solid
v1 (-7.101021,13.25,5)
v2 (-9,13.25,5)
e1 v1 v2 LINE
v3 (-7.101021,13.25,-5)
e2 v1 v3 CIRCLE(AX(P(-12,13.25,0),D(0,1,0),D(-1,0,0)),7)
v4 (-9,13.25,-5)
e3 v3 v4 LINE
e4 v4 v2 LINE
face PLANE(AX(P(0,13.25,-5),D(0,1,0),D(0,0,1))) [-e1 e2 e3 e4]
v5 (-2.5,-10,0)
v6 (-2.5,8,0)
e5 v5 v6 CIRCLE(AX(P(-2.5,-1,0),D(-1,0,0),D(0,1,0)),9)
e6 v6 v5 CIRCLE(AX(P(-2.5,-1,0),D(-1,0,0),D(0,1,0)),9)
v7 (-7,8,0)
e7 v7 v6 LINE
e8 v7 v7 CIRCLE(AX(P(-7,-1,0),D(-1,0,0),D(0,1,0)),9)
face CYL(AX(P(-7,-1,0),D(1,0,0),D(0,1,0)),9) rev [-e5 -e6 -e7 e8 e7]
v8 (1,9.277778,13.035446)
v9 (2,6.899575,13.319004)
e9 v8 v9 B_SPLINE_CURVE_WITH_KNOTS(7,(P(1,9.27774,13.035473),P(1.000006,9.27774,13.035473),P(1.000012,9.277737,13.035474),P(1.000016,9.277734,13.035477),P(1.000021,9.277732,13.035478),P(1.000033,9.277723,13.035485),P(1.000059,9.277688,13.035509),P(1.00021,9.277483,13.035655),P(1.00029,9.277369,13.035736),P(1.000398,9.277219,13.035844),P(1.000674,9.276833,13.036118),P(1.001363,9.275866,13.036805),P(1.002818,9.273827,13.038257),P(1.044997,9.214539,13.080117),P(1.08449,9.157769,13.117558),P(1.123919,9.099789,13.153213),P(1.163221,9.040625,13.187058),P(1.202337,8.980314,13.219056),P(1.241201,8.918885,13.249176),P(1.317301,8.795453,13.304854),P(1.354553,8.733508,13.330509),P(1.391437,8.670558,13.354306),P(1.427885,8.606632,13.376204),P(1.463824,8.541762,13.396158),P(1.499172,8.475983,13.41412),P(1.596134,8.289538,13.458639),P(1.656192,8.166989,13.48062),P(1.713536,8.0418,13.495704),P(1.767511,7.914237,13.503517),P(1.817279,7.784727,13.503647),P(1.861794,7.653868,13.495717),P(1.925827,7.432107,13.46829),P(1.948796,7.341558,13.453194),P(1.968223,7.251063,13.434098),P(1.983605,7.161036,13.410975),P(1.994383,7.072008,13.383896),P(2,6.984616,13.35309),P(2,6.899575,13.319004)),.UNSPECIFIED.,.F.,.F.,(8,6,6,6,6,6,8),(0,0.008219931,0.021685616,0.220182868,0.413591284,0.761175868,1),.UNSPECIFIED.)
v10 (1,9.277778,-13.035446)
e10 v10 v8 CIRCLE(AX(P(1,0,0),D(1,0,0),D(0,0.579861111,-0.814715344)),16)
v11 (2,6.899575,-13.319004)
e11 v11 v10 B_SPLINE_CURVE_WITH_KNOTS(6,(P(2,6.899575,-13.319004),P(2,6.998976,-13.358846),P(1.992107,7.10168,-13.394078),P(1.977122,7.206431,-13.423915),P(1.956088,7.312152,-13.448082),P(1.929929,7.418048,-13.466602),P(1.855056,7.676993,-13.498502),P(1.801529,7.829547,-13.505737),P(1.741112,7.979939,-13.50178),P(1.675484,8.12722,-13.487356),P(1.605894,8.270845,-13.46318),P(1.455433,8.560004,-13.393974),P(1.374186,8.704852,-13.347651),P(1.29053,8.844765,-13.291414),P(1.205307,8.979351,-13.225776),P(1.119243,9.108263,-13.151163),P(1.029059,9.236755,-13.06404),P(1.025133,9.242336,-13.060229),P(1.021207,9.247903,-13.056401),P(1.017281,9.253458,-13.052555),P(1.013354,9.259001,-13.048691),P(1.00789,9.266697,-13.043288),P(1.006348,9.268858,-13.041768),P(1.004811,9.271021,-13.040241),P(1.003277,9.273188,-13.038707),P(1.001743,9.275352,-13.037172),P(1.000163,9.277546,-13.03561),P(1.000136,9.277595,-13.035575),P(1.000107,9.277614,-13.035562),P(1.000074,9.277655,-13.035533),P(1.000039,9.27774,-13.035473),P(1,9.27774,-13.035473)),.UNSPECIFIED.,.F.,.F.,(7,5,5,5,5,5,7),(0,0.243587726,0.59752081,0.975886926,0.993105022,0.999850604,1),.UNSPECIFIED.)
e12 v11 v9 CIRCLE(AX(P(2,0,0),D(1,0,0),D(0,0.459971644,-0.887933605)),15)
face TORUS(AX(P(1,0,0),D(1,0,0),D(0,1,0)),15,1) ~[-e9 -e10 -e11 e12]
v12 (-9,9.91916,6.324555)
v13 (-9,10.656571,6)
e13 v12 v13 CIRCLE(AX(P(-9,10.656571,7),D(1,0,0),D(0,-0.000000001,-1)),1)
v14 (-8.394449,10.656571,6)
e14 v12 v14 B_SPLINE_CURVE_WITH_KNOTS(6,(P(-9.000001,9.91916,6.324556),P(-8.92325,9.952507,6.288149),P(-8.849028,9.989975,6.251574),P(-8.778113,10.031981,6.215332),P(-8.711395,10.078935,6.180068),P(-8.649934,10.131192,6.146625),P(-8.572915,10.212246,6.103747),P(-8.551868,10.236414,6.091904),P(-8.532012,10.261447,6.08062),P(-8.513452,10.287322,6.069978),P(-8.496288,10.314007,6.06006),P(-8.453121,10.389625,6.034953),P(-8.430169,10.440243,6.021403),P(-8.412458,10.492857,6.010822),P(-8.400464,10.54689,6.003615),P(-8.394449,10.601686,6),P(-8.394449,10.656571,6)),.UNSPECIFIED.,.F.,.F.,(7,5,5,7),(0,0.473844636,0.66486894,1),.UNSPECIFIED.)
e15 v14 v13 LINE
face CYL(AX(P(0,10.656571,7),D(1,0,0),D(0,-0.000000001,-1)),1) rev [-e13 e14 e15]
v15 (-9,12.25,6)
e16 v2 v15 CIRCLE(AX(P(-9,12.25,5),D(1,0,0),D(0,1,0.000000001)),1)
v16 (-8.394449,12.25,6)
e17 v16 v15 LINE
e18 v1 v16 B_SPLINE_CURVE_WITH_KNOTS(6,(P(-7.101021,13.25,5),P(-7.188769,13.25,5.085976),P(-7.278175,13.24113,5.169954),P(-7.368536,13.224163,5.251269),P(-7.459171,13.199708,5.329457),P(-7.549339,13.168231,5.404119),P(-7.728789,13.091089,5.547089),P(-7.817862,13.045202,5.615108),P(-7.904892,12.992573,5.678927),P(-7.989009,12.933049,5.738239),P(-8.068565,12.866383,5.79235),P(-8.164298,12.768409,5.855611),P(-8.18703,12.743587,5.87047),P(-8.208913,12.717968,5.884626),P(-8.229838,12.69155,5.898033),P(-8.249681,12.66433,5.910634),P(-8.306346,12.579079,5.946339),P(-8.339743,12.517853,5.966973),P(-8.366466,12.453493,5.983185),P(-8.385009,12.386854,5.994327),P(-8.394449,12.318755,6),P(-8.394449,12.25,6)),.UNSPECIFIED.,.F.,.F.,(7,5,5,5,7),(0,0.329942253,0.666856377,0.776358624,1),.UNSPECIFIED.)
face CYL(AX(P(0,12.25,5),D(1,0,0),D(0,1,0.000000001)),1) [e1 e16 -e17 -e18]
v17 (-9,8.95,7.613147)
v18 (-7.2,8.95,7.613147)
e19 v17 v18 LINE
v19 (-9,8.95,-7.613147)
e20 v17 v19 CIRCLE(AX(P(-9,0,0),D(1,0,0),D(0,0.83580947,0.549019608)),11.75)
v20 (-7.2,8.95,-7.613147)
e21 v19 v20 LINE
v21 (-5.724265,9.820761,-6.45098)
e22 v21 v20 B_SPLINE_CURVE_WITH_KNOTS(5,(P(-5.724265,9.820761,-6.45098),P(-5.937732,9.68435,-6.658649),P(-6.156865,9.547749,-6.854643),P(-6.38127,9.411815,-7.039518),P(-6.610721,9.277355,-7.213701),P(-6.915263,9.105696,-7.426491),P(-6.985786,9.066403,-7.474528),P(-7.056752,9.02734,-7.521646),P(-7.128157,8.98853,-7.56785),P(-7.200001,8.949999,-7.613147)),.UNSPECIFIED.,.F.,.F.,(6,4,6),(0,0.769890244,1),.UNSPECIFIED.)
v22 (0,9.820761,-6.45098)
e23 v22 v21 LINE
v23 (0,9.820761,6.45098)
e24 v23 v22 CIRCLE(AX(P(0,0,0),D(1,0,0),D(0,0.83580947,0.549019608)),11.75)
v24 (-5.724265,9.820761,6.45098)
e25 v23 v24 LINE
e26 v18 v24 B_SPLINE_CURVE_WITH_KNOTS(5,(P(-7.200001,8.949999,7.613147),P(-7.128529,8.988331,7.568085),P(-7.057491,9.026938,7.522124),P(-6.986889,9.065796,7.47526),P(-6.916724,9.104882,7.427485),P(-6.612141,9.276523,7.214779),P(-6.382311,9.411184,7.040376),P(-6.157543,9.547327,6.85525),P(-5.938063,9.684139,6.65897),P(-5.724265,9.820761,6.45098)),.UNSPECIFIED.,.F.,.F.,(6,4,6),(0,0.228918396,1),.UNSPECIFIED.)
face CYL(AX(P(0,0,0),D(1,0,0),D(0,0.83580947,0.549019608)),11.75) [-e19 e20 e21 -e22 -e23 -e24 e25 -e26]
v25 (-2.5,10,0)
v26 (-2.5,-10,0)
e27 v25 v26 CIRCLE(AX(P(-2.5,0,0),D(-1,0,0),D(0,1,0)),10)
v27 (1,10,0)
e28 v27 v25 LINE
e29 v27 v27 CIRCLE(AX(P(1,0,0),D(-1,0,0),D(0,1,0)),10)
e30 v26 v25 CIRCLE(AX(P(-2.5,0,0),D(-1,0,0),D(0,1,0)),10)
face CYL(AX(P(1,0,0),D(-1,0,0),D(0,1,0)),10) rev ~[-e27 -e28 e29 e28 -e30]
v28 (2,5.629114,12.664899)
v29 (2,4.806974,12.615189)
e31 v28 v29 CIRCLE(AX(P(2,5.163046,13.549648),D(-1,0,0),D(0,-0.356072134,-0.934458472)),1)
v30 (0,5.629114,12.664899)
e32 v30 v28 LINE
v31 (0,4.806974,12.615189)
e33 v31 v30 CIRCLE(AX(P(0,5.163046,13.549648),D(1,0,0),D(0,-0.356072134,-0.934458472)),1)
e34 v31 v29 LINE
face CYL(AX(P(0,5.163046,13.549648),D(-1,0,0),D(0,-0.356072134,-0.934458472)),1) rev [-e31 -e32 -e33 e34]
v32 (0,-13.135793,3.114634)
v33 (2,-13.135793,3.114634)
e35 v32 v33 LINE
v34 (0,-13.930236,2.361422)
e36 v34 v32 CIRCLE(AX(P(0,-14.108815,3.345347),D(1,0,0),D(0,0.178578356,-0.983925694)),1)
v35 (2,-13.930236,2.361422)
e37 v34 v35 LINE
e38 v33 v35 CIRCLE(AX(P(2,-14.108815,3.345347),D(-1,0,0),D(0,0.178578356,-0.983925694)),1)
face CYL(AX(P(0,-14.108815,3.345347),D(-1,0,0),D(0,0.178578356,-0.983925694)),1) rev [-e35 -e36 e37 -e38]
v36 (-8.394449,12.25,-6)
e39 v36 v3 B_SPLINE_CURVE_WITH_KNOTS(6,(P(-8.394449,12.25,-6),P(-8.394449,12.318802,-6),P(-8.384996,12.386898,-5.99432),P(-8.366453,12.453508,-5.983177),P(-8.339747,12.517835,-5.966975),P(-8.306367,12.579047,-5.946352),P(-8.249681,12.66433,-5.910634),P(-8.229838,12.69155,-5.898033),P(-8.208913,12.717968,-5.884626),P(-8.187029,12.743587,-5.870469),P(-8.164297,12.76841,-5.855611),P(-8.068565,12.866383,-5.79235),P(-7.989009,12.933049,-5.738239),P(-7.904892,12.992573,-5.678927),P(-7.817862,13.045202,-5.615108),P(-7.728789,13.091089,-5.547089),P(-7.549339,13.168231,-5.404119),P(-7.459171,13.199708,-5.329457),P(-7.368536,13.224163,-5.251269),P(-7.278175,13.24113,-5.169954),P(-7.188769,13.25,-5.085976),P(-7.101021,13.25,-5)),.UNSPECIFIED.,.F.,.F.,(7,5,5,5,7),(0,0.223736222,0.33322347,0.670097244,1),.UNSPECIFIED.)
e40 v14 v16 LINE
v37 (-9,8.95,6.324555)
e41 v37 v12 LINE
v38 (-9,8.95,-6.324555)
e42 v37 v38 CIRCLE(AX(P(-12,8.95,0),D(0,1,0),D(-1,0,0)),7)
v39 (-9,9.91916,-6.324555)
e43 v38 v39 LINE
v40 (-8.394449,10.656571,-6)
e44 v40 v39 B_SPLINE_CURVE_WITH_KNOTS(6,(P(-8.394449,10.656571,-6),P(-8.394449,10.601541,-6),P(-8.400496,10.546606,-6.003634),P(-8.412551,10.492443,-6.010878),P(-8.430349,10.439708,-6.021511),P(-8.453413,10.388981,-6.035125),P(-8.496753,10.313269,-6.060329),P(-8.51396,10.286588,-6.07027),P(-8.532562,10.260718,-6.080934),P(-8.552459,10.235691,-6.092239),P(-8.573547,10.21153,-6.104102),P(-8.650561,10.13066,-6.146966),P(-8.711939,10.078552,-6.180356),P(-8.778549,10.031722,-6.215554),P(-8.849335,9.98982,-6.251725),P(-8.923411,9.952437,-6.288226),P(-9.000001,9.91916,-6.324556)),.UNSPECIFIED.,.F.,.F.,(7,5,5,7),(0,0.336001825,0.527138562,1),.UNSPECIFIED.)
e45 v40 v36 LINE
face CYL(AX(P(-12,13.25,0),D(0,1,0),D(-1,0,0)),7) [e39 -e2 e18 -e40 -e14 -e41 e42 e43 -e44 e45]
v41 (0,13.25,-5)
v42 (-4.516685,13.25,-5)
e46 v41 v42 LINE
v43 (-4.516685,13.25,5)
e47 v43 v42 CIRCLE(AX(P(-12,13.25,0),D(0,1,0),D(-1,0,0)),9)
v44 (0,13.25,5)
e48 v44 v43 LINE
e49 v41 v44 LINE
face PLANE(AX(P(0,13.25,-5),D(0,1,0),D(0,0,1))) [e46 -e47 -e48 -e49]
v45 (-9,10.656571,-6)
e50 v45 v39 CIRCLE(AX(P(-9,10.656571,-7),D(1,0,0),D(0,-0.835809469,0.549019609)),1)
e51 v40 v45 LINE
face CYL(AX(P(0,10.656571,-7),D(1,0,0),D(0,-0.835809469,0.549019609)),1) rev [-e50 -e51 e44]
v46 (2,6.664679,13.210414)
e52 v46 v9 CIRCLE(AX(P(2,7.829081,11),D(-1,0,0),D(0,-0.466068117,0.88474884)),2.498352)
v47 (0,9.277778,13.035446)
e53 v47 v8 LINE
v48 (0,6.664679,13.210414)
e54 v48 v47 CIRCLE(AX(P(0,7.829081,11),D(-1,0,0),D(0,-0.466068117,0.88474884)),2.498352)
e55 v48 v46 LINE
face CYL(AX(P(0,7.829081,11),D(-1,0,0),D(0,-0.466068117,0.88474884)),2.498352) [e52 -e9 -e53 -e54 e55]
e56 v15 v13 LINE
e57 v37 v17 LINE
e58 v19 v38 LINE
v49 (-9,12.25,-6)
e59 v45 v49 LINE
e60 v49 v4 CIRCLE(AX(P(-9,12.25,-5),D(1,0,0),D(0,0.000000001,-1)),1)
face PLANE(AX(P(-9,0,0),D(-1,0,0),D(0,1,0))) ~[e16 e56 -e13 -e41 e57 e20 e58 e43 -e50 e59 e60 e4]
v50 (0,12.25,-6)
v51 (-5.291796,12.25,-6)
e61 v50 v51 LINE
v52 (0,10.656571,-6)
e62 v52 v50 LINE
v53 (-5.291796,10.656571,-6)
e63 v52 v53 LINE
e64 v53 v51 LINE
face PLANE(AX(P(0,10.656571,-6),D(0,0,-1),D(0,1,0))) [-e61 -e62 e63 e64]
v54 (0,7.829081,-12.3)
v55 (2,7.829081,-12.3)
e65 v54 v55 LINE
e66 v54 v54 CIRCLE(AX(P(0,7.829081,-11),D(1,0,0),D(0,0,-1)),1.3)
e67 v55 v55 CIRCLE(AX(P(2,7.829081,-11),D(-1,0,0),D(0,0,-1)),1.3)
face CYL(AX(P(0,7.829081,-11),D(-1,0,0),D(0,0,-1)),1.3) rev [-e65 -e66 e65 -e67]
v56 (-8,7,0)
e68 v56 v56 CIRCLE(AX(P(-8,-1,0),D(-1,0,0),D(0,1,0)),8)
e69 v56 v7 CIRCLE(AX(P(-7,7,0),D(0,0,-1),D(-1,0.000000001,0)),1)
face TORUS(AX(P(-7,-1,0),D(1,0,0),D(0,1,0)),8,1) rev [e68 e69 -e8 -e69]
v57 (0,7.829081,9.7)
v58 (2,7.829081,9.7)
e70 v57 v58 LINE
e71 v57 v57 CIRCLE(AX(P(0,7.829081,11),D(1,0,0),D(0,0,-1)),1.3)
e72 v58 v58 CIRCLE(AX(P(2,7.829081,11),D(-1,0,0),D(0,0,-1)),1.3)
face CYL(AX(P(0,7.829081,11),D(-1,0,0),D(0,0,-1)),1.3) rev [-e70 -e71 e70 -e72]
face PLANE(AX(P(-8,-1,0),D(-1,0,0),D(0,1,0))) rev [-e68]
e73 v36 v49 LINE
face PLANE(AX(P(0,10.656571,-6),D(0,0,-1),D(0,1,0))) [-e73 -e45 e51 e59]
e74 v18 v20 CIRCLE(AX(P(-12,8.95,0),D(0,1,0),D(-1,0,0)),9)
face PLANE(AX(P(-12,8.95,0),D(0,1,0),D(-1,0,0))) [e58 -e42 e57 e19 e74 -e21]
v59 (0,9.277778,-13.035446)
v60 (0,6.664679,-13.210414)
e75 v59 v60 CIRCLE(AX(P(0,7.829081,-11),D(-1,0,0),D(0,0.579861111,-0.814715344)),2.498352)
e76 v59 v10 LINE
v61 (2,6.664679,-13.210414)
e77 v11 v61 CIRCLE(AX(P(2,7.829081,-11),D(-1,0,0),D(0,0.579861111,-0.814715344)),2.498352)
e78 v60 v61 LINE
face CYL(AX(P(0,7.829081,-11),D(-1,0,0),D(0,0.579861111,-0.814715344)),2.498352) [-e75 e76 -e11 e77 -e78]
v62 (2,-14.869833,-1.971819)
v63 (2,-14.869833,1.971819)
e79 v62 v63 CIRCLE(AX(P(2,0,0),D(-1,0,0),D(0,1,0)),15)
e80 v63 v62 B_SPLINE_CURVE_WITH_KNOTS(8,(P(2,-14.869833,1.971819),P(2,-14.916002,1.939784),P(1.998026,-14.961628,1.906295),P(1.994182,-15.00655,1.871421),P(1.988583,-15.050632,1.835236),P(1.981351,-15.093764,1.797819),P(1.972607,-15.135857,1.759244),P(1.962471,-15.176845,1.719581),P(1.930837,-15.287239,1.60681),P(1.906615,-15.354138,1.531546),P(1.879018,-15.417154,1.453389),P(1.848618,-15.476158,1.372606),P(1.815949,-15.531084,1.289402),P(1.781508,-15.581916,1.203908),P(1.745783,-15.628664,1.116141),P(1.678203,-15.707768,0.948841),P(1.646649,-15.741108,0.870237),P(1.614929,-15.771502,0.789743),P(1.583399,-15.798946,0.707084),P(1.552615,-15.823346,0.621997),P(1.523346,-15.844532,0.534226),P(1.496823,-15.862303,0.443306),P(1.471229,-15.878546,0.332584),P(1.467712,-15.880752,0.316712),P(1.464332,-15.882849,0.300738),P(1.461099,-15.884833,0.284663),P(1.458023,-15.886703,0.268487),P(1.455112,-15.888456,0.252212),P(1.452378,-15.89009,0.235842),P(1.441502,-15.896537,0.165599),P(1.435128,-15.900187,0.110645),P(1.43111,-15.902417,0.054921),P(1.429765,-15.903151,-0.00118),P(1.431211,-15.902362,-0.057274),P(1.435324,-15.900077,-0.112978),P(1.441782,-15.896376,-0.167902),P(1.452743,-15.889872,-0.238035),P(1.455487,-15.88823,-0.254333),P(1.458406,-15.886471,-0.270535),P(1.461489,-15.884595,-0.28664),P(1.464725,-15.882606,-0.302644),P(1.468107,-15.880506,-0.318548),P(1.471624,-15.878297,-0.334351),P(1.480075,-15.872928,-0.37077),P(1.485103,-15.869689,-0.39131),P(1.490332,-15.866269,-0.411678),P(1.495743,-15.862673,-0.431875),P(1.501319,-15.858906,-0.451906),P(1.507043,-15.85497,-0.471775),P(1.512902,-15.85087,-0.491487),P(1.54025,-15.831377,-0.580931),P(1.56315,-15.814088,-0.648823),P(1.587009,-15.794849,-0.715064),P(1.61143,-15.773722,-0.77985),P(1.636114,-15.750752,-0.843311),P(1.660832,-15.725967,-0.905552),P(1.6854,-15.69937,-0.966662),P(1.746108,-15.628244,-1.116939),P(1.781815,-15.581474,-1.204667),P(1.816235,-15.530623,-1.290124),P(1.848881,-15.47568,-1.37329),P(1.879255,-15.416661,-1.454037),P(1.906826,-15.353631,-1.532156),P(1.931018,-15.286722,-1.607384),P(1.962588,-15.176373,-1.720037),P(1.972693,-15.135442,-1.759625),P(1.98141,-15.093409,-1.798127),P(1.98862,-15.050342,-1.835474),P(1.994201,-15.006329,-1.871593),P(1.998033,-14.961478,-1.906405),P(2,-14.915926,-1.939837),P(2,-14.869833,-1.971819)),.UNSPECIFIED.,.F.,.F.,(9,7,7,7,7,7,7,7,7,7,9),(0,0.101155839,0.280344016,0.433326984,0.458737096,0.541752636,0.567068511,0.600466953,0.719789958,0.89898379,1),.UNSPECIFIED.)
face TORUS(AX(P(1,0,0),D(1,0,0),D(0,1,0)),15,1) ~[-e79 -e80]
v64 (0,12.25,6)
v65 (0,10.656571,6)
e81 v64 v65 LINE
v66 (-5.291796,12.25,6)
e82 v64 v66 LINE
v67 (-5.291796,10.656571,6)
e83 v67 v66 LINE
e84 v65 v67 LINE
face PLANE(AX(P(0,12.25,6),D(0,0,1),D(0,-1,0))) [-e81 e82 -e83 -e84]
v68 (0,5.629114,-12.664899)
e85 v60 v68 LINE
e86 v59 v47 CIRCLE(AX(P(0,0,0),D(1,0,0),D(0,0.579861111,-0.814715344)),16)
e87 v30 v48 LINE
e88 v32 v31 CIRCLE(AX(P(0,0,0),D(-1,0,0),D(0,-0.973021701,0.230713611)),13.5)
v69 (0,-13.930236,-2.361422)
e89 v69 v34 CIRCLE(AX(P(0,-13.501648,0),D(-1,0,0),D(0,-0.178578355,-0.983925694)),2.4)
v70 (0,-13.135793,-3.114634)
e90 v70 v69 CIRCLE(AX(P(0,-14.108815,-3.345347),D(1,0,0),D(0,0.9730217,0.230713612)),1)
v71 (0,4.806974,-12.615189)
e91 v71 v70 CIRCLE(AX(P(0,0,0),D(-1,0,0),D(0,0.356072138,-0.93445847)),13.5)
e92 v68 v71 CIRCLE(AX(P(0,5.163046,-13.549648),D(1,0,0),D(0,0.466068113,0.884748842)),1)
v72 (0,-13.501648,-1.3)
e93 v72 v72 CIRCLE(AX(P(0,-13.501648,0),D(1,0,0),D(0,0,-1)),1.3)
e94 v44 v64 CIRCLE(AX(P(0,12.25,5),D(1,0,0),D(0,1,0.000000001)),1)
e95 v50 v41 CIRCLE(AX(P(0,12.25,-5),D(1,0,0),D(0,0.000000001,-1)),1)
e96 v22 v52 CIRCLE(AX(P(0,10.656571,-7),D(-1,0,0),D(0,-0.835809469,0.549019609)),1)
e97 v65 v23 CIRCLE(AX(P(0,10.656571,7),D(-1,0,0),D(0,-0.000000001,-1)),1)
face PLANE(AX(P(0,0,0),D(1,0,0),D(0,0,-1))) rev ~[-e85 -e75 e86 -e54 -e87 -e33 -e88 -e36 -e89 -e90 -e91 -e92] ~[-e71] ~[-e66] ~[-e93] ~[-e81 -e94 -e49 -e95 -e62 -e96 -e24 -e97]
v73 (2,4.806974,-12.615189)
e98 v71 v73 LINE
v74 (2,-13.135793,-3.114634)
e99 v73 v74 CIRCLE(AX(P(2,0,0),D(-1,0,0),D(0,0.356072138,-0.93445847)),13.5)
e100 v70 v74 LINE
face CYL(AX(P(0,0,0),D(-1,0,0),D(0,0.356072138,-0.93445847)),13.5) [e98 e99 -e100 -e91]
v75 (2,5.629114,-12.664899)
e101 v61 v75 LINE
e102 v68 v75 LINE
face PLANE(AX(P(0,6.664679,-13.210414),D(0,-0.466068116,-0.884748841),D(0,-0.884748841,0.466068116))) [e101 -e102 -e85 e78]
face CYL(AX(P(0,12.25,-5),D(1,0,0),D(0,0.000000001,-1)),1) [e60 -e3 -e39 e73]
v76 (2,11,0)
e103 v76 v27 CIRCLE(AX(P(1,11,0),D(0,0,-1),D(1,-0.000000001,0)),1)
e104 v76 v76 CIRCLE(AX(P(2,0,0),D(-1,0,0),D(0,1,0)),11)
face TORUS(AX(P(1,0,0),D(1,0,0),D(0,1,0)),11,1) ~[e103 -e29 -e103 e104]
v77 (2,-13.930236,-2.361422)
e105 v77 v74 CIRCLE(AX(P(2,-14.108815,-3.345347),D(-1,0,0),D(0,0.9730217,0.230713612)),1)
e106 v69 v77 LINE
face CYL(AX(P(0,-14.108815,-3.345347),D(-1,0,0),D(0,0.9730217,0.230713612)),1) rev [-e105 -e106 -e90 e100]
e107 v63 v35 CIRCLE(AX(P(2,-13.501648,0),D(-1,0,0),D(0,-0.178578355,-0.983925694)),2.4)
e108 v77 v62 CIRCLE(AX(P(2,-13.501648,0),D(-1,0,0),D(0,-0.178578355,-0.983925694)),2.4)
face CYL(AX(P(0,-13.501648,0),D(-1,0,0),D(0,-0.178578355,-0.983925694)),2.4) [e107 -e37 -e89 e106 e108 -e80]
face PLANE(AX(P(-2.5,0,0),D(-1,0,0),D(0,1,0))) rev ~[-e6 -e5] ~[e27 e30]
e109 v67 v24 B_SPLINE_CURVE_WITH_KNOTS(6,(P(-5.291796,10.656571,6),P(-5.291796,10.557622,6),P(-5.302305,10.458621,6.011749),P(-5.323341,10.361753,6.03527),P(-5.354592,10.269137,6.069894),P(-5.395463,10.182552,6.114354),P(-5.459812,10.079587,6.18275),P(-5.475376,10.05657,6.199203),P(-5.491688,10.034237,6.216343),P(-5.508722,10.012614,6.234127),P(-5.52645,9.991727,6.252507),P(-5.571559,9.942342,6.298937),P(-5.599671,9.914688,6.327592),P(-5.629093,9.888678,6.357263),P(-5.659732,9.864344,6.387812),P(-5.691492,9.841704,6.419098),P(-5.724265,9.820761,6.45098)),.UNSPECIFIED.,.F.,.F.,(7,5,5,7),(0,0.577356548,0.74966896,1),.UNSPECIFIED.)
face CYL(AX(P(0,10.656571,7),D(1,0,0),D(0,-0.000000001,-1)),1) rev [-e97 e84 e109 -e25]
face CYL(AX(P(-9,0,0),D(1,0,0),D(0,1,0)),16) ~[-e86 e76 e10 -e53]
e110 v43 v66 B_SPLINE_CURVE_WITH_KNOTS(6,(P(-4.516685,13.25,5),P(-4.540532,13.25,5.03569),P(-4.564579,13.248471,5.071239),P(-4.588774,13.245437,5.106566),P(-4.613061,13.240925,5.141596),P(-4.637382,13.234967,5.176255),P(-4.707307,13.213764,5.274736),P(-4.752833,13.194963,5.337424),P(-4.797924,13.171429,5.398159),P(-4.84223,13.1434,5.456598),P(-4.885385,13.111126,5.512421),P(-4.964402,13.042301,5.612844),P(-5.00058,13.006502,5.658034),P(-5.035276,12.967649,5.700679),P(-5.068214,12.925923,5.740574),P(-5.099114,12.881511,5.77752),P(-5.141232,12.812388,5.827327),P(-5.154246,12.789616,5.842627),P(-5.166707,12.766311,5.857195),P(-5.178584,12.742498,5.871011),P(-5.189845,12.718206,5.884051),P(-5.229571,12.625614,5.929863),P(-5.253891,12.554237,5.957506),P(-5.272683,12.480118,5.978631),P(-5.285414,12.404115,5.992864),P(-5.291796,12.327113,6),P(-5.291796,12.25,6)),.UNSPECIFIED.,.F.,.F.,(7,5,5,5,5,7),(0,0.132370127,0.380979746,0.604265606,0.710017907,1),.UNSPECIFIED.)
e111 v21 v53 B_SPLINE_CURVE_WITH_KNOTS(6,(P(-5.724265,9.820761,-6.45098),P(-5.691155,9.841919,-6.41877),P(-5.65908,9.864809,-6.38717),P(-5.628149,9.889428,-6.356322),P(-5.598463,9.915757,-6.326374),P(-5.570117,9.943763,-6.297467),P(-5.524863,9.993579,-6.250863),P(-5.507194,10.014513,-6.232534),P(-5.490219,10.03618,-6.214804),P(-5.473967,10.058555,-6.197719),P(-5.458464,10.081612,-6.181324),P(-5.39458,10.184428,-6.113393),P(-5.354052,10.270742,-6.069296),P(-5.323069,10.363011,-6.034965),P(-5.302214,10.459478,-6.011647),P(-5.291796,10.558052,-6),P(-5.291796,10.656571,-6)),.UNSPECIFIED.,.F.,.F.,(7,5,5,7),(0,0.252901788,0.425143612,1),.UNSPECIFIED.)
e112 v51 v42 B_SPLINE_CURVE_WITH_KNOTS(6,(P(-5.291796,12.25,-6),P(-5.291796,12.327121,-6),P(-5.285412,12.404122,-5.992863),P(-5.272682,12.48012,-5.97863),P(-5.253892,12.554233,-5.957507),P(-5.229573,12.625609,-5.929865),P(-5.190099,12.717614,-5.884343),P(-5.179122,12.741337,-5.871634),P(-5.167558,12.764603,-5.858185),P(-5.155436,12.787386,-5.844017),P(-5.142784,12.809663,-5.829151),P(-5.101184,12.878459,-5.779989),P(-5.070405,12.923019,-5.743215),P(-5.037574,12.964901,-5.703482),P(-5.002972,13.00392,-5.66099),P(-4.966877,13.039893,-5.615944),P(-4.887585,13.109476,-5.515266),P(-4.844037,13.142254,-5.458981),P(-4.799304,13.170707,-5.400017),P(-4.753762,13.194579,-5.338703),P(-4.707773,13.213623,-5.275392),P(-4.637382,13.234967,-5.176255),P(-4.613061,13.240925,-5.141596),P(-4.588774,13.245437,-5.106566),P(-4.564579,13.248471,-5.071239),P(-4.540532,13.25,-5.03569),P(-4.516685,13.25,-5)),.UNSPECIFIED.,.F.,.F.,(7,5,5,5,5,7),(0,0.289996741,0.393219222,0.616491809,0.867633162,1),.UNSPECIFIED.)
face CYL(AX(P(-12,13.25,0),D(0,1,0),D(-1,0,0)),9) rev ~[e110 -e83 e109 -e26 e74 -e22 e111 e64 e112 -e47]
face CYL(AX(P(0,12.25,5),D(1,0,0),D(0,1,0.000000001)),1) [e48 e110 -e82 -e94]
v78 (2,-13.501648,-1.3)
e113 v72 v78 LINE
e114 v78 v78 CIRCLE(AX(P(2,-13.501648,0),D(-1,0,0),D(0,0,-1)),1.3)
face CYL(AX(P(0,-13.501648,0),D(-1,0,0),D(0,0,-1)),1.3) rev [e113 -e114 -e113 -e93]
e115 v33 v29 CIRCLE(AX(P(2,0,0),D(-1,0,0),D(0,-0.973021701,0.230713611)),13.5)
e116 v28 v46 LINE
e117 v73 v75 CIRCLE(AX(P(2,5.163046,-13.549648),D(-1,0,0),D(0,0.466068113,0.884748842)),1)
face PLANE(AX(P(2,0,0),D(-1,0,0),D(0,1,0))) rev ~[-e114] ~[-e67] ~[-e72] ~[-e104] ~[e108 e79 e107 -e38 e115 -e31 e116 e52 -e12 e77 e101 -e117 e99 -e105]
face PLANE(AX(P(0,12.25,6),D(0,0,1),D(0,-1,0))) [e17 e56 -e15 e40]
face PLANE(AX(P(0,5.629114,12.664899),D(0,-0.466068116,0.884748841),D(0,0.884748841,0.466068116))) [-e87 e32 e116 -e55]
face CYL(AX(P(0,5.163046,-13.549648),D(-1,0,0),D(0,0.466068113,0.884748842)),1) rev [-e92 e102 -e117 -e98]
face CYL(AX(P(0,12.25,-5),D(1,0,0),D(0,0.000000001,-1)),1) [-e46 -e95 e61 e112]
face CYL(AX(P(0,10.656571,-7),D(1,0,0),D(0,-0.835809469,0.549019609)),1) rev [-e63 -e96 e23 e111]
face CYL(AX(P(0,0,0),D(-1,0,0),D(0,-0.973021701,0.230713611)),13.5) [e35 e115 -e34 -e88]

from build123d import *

# Parameters (mm, degrees)
SKETCH2_OUTSIDE_W  = 43.314
SKETCH2_OUTSIDE_H  = 43.314
CUT_EXTRUDE1_DEPTH = 10
SKETCH3_R          = 1.3
CUT_EXTRUDE2_DEPTH = 3
SKETCH5_R          = 9
SKETCH5_R_2        = 7
CUT_EXTRUDE3_DEPTH = 4.3


with BuildPart() as part:
    # Sketch1 → Revolve1 (revolve)
    with BuildSketch(Plane.XY):
        with BuildLine():
            Line((-2.5, 10), (-2.5, 0))
            Line((-2.5, 0), (-9, 0))
            Line((-9, 0), (-9, 16))
            Line((-9, 16), (1, 16))
            ThreePointArc((1, 16), (1.707106781, 15.707106781), (2, 15))
            Line((2, 15), (2, 11))
            ThreePointArc((2, 11), (1.707106781, 10.292893219), (1, 10))
            Line((1, 10), (-2.5, 10))
        make_face()
    revolve(axis=Axis((0, 0, 0), (-1, 0, 0)))

    # Sketch2 outside → Cut-Extrude1 (cut, through all)
    with BuildSketch(Plane(origin=(0, 0, 0), x_dir=(0, 0, -1), z_dir=(1, 0, 0))):
        Rectangle(SKETCH2_OUTSIDE_W, SKETCH2_OUTSIDE_H)
        with BuildLine():
            Line((5, 13.25), (-5, 13.25))
            ThreePointArc((-5, 13.25), (-5.707106781, 12.957106781), (-6, 12.25))
            Line((-6, 12.25), (-6, 10.656570743))
            ThreePointArc((-6, 10.656570743), (-6.119937614, 10.181712663), (-6.450980392, 9.820761273))
            ThreePointArc((-6.450980392, 9.820761273), (0, -11.75), (6.450980392, 9.820761273))
            ThreePointArc((6.450980392, 9.820761273), (6.119937614, 10.181712663), (6, 10.656570743))
            Line((6, 10.656570743), (6, 12.25))
            ThreePointArc((6, 12.25), (5.707106781, 12.957106781), (5, 13.25))
        make_face(mode=Mode.SUBTRACT)
    extrude(amount=-CUT_EXTRUDE1_DEPTH, mode=Mode.SUBTRACT)

    # Sketch3 → Cut-Extrude2 (cut, through all)
    with BuildSketch(Plane(origin=(0, 0, 0), x_dir=(0, 0, -1), z_dir=(1, 0, 0))):
        with Locations((-11, 7.829080757)):
            Circle(SKETCH3_R)
        with Locations((11, 7.829080757)):
            Circle(SKETCH3_R)
        with Locations((0, -13.501648251)):
            Circle(SKETCH3_R)
        with BuildLine():
            Line((-12.664898978, 5.629114116), (-13.210413813, 6.664678663))
            ThreePointArc((-13.210413813, 6.664678663), (-13.492769962, 7.995992047), (-13.035445505, 9.277777778))
            ThreePointArc((-13.035445505, 9.277777778), (0, -16), (13.035445505, 9.277777778))
            ThreePointArc((13.035445505, 9.277777778), (13.492769962, 7.995992047), (13.210413813, 6.664678663))
            Line((13.210413813, 6.664678663), (12.664898978, 5.629114116))
            ThreePointArc((12.664898978, 5.629114116), (12.551470751, 5.223399463), (12.615189348, 4.806973861))
            ThreePointArc((12.615189348, 4.806973861), (11.930739874, -6.317234051), (3.114633748, -13.135792957))
            ThreePointArc((3.114633748, -13.135792957), (2.619659949, -13.420790107), (2.361421665, -13.930236303))
            ThreePointArc((2.361421665, -13.930236303), (0, -15.901648251), (-2.361421665, -13.930236303))
            ThreePointArc((-2.361421665, -13.930236303), (-2.619659949, -13.420790107), (-3.114633748, -13.135792957))
            ThreePointArc((-3.114633748, -13.135792957), (-11.930739874, -6.317234051), (-12.615189348, 4.806973861))
            ThreePointArc((-12.615189348, 4.806973861), (-12.551470751, 5.223399463), (-12.664898978, 5.629114116))
        make_face()
    extrude(amount=CUT_EXTRUDE2_DEPTH, mode=Mode.SUBTRACT)

    # Sketch4 → Cut-Revolve1 (revolve, cut)
    with BuildSketch(Plane.XY, mode=Mode.PRIVATE) as cut_revolve1_sk:
        with BuildLine():
            Line((-2.5, -1), (-8, -1))
            Line((-8, -1), (-8, -9))
            ThreePointArc((-8, -9), (-7.707106781, -9.707106781), (-7, -10))
            Line((-7, -10), (-2.5, -10))
            Line((-2.5, -10), (-2.5, -1))
        make_face()
    revolve(cut_revolve1_sk.sketch.rotate(Axis((2, -1, 0), (-1, 0, 0)), 180), axis=Axis((2, -1, 0), (-1, 0, 0)), mode=Mode.SUBTRACT)  # turned: the seam where the file's is

    # Sketch5 → Cut-Extrude3 (cut)
    with BuildSketch(Plane(origin=(0, 13.25, 0), x_dir=(-1, 0, 0), z_dir=(0, 1, 0))):
        with Locations((12, 0)):
            Circle(SKETCH5_R)
        with Locations((12, 0)):
            Circle(SKETCH5_R_2, mode=Mode.SUBTRACT)
    extrude(amount=-CUT_EXTRUDE3_DEPTH, mode=Mode.SUBTRACT)


solid = part.part
